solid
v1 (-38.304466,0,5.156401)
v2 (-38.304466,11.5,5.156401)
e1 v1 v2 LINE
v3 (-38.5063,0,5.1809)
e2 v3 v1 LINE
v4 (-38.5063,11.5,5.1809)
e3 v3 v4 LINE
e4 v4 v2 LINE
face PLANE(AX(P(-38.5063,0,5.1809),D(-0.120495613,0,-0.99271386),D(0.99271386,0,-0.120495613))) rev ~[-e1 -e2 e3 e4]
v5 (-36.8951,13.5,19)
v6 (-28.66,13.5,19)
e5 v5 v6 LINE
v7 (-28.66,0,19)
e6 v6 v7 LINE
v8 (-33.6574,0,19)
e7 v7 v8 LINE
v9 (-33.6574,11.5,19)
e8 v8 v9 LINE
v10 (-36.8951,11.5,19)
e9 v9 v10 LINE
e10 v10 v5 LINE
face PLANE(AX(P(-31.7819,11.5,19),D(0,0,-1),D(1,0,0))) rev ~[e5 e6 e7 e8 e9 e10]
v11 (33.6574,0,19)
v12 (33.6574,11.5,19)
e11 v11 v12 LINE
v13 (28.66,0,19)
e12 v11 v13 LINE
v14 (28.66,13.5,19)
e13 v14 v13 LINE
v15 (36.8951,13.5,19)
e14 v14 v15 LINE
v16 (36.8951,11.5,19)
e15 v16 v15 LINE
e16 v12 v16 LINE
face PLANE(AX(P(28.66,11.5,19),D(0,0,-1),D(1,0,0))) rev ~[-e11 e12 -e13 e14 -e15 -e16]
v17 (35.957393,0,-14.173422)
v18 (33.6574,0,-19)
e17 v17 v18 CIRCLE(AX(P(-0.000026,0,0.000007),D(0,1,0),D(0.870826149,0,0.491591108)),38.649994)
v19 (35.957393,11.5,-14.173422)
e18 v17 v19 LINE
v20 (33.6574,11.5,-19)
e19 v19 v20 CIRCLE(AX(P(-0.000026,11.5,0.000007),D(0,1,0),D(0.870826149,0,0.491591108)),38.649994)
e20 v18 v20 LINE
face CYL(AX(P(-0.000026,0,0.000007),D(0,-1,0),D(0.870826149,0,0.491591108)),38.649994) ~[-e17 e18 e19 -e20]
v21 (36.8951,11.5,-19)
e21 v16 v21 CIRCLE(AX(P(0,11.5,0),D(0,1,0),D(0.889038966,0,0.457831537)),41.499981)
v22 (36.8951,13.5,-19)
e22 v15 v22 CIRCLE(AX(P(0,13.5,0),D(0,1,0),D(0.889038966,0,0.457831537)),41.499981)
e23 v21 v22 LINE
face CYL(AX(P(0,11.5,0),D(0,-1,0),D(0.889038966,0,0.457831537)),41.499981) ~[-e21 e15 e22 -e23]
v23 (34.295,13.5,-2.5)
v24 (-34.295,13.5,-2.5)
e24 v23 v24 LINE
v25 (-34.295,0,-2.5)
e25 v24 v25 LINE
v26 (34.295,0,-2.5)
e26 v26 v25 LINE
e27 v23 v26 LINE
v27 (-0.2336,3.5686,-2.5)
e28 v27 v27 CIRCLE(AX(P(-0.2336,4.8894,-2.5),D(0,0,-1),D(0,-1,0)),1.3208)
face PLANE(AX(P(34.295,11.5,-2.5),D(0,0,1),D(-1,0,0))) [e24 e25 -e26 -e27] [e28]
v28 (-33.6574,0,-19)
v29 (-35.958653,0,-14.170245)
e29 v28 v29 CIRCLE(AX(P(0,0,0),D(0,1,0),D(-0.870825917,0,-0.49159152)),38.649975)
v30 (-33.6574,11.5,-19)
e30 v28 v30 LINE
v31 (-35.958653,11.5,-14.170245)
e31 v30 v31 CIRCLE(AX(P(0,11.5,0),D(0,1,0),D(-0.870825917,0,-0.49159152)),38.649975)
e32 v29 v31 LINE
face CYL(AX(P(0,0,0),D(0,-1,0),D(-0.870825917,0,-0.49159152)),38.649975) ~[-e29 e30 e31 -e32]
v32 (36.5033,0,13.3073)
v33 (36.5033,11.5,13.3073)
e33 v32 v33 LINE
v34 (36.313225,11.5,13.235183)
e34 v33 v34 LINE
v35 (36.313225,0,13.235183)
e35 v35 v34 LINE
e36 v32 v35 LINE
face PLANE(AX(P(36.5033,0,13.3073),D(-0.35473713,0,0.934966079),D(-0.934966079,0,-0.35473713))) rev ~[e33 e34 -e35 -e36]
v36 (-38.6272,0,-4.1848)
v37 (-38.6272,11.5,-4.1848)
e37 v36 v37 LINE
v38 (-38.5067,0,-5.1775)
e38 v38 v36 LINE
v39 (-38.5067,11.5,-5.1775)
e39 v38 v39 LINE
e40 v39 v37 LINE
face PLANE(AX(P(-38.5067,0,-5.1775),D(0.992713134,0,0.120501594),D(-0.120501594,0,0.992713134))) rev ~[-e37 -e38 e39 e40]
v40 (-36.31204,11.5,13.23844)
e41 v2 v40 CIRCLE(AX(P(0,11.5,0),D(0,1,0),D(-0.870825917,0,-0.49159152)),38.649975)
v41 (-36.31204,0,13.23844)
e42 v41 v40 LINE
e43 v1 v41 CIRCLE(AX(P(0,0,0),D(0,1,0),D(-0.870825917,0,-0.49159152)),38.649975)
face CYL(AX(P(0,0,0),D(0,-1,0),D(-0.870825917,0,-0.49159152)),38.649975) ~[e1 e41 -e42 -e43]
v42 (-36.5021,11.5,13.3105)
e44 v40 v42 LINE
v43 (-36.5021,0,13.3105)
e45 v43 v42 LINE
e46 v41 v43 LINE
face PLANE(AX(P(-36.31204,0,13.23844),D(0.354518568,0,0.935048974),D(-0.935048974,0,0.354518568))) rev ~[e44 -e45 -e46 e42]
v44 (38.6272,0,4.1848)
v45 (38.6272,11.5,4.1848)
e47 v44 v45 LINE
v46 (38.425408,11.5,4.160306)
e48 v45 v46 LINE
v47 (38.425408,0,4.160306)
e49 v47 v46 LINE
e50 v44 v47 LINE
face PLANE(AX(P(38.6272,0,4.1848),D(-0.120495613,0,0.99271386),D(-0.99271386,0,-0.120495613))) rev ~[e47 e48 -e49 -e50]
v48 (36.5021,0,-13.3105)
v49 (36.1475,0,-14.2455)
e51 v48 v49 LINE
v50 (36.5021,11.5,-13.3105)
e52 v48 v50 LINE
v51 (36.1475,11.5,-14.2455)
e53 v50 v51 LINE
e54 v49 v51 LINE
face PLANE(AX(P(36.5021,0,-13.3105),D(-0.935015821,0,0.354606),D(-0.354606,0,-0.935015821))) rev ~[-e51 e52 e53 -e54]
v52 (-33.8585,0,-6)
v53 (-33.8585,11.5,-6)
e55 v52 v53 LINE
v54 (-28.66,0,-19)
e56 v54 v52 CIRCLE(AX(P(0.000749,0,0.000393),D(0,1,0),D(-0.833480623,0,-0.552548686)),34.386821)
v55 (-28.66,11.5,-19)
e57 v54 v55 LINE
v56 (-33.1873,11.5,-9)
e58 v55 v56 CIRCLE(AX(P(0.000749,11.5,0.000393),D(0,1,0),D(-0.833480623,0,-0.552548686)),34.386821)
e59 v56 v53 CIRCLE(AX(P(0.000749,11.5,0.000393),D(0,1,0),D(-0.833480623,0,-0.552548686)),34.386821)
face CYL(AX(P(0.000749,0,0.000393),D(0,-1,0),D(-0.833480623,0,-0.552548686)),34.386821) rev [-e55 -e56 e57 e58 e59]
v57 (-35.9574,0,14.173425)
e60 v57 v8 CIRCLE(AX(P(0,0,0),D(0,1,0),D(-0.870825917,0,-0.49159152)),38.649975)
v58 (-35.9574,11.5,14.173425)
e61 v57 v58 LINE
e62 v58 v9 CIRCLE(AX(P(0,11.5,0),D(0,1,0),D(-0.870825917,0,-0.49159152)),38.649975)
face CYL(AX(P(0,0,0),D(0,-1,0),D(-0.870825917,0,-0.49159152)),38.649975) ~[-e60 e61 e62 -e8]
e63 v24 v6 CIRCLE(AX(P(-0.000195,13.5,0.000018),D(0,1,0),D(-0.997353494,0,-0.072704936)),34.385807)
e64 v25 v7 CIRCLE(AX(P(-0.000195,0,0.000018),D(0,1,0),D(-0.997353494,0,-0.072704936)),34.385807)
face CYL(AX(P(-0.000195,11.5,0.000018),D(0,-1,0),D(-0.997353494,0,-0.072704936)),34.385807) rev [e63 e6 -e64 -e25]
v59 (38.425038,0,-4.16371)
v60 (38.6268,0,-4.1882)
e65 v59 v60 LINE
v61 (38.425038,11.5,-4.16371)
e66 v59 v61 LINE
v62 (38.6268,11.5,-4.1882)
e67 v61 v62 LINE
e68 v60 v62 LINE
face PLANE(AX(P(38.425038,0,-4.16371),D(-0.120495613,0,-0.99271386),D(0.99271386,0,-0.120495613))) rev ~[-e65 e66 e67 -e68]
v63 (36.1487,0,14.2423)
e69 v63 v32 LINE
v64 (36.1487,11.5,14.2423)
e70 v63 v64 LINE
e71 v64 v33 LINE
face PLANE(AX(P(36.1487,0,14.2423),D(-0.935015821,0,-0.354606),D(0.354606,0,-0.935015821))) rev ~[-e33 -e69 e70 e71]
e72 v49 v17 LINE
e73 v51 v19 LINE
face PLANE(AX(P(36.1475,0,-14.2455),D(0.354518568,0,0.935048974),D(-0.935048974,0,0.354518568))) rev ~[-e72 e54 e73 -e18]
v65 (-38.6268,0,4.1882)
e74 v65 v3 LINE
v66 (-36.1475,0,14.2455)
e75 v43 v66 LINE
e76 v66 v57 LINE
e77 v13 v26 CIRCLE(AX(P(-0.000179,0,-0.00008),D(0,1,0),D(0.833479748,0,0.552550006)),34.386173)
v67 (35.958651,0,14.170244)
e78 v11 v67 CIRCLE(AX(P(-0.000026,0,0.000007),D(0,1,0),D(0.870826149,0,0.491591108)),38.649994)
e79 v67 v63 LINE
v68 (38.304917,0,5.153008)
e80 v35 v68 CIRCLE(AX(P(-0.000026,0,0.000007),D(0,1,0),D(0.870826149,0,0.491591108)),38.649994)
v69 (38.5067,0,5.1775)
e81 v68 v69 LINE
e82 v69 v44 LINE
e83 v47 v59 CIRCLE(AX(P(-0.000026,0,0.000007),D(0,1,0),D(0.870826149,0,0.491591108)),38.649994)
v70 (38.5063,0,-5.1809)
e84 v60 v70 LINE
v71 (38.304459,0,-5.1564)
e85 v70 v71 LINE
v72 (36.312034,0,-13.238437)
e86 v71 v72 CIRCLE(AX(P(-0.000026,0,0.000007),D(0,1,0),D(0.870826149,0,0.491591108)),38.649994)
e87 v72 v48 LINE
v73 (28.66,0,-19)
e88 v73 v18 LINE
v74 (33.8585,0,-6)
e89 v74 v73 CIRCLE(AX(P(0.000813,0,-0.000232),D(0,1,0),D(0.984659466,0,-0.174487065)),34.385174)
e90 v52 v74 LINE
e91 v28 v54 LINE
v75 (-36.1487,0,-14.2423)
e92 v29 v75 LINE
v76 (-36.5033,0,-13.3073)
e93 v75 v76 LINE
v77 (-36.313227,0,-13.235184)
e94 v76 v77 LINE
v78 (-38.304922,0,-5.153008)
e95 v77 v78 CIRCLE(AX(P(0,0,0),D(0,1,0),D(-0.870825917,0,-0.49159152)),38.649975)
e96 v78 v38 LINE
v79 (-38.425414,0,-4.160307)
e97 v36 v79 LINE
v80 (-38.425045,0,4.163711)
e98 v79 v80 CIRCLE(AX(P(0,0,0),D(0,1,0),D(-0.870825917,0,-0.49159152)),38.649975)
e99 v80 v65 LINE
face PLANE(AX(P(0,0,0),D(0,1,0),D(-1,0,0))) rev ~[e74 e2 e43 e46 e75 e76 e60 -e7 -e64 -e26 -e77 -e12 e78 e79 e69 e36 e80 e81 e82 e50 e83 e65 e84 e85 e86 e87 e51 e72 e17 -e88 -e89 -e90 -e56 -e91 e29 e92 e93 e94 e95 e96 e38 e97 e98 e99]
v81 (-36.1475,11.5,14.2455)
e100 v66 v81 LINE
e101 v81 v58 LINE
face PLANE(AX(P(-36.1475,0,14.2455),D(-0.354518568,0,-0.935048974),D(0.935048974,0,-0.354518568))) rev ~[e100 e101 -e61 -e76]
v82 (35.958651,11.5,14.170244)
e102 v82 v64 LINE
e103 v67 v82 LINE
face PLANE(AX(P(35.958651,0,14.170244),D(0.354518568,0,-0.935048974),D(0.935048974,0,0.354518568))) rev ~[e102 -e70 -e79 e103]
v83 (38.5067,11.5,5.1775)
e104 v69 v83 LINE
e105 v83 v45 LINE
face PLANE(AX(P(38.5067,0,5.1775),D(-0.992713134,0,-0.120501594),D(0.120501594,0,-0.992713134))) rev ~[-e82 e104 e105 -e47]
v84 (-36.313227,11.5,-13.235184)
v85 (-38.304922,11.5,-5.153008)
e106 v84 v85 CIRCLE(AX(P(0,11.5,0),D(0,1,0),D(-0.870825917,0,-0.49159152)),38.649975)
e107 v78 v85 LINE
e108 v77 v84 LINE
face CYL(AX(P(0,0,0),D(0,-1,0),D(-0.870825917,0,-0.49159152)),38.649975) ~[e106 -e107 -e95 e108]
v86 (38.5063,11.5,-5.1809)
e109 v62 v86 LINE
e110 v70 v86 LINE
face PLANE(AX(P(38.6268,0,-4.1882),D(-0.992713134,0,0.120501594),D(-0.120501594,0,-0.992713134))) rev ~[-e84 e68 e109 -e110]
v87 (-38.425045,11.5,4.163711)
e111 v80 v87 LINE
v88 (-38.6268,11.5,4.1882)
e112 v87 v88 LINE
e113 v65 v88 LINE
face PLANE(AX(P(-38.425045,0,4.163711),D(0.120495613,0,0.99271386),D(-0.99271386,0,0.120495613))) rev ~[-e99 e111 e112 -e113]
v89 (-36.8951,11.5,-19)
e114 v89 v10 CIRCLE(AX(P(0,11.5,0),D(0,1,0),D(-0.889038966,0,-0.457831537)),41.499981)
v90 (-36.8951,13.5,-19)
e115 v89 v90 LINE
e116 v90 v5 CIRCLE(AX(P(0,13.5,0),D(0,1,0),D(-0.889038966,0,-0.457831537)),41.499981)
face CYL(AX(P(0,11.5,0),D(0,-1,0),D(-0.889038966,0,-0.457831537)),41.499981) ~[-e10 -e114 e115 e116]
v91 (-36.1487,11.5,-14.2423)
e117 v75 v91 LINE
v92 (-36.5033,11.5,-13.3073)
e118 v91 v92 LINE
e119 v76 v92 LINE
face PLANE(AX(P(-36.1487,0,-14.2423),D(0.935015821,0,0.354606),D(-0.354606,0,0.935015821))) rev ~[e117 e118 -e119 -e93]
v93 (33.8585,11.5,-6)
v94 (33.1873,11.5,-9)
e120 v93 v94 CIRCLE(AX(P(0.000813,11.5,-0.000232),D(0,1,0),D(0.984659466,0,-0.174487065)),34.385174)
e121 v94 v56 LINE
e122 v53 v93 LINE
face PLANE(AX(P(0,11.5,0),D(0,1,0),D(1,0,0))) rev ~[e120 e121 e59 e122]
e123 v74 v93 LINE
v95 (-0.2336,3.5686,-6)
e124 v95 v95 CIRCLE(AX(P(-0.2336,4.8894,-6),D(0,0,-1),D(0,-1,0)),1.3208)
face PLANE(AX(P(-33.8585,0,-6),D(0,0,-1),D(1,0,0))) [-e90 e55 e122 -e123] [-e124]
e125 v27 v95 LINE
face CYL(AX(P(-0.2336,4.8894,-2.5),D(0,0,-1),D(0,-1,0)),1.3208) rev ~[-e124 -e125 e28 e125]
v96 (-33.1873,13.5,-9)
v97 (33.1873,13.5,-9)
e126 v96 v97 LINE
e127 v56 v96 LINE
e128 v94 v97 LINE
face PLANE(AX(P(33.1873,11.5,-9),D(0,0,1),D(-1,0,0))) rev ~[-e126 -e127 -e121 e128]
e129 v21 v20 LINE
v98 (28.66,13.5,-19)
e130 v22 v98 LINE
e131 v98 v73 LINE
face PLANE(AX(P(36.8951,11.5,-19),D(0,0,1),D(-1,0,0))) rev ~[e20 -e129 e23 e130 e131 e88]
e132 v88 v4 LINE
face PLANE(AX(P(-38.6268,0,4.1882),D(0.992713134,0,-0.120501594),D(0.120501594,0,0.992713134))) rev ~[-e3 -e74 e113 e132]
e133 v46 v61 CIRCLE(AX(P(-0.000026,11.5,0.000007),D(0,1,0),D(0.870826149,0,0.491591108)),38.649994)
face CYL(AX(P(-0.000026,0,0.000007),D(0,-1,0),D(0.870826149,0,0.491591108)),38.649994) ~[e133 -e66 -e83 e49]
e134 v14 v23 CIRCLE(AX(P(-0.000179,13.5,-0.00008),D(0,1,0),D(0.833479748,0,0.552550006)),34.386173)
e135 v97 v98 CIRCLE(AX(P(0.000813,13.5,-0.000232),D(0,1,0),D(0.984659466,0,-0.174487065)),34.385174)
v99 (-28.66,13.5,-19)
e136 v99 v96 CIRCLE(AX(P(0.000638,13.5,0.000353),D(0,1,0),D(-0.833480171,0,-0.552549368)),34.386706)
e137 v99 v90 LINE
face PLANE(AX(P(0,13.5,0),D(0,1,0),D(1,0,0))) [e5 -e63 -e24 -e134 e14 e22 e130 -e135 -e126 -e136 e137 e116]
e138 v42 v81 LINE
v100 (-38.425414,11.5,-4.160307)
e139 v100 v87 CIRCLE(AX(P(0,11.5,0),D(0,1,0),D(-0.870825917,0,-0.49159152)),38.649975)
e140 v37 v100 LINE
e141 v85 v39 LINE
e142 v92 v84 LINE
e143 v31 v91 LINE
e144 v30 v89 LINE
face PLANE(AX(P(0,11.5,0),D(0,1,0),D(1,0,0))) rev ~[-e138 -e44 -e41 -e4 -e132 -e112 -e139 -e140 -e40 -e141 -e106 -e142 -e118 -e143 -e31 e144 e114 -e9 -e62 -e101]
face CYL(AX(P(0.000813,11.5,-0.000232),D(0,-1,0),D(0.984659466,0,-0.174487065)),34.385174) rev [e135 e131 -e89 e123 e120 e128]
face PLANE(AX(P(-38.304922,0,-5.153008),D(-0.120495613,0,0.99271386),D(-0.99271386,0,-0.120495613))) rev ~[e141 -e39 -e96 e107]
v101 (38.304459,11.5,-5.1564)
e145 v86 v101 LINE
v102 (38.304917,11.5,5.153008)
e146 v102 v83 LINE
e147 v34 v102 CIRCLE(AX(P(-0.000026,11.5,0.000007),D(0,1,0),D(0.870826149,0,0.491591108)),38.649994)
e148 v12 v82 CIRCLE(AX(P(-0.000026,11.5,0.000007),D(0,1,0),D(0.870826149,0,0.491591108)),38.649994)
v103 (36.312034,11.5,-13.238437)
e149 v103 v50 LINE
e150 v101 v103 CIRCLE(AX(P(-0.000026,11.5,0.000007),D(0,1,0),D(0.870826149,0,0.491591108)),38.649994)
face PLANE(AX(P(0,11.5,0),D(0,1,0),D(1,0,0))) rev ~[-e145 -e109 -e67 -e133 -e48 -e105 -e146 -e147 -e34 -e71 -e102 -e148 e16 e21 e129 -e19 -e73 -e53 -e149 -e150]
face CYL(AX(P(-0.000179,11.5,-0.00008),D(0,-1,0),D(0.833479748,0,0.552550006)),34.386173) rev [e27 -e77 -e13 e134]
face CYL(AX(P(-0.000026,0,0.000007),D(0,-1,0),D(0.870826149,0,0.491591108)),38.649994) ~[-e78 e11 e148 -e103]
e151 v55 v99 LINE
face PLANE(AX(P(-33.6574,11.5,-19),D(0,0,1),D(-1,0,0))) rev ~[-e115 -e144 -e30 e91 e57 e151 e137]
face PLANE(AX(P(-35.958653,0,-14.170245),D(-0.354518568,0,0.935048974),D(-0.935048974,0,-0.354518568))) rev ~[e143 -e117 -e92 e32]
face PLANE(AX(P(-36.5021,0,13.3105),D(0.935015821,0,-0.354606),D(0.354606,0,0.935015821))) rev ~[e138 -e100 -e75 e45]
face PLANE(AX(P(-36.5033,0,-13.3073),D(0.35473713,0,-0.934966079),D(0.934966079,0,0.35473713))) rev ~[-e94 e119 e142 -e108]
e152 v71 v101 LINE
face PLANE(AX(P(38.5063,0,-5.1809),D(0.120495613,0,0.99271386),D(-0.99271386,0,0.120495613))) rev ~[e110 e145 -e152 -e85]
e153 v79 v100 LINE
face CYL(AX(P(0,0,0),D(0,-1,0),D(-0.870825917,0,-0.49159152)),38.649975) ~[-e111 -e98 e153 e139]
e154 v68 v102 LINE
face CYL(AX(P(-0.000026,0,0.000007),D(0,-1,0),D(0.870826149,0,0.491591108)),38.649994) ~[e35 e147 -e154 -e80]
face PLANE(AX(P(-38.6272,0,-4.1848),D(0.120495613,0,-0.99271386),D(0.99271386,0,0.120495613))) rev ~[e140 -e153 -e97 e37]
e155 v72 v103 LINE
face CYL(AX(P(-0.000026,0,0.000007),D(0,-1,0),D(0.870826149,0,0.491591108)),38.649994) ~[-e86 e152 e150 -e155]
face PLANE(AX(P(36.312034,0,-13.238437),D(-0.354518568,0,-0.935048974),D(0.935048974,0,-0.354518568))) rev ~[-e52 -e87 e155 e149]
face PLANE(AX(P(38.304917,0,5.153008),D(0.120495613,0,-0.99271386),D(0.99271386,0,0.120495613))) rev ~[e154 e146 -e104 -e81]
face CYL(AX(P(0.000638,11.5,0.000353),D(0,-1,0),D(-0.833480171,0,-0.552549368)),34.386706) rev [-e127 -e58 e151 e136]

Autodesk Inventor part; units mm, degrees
ref_plane "YZ Plane" through (0, 0, 0) normal (1, 0, 0) x (0, 1, 0)
ref_plane "XZ Plane" through (0, 0, 0) normal (0, 1, 0) x (-1, 0, 0)
ref_plane "XY Plane" through (0, 0, 0) normal (0, 0, 1) x (1, 0, 0)
sketch "Sketch1" plane through (0, 0, 0) normal (0, 1, 0) x (-1, 0, 0)
  line L0 (33.8585, -6) -> (-33.8585, -6)
  line L1 (-34.295, -2.5) -> (34.295, -2.5)
  line L2 (0.5017, -38.45) -> (-0.4983, -38.45)
  line L3 (-0.4983, -38.45) -> (-0.4983, -38.85)
  line L4 (-0.4983, -38.85) -> (0.5017, -38.85)
  line L5 (0.5017, -38.85) -> (0.5017, -38.45)
  line L6 (0.5017, -38.45) -> (-0.4983, -38.85) construction
  line L7 (-0.4983, -38.45) -> (0.5017, -38.85) construction
  line L8 (9.6888, -37.2126) -> (8.7179, -37.452)
  line L9 (8.7179, -37.452) -> (8.8136, -37.8403)
  line L10 (8.8136, -37.8403) -> (9.7846, -37.601)
  line L11 (9.7846, -37.601) -> (9.6888, -37.2126)
  line L12 (18.3129, -33.8126) -> (17.4274, -34.2773)
  line L13 (17.4274, -34.2773) -> (17.6133, -34.6315)
  line L14 (17.6133, -34.6315) -> (18.4987, -34.1668)
  line L15 (18.4987, -34.1668) -> (18.3129, -33.8126)
  line L16 (25.8726, -28.4475) -> (25.1241, -29.1107)
  line L17 (25.1241, -29.1107) -> (25.3893, -29.4101)
  line L18 (25.3893, -29.4101) -> (26.1379, -28.7469)
  line L19 (26.1379, -28.7469) -> (25.8726, -28.4475)
  line L20 (31.9287, -21.4292) -> (31.3607, -22.2522)
  line L21 (31.3607, -22.2522) -> (31.6899, -22.4794)
  line L22 (31.6899, -22.4794) -> (32.2579, -21.6564)
  line L23 (32.2579, -21.6564) -> (31.9287, -21.4292)
  line L24 (36.1293, -13.1654) -> (35.7747, -14.1005)
  line L25 (35.7747, -14.1005) -> (36.1487, -14.2423)
  line L26 (36.1487, -14.2423) -> (36.5033, -13.3073)
  line L27 (36.5033, -13.3073) -> (36.1293, -13.1654)
  line L28 (38.2301, -4.1366) -> (38.1096, -5.1293)
  line L29 (38.1096, -5.1293) -> (38.5067, -5.1775)
  line L30 (38.5067, -5.1775) -> (38.6272, -4.1848)
  line L31 (38.6272, -4.1848) -> (38.2301, -4.1366)
  line L32 (38.1092, 5.1327) -> (38.2297, 4.14)
  line L33 (38.2297, 4.14) -> (38.6268, 4.1882)
  line L34 (38.6268, 4.1882) -> (38.5063, 5.1809)
  line L35 (38.5063, 5.1809) -> (38.1092, 5.1327)
  line L36 (35.7735, 14.1037) -> (36.1281, 13.1687)
  line L37 (36.1281, 13.1687) -> (36.5021, 13.3105)
  line L38 (36.5021, 13.3105) -> (36.1475, 14.2455)
  line L39 (36.1475, 14.2455) -> (35.7735, 14.1037)
  line L40 (31.3587, 22.255) -> (31.9268, 21.432)
  line L41 (31.9268, 21.432) -> (32.256, 21.6592)
  line L42 (32.256, 21.6592) -> (31.6879, 22.4822)
  line L43 (31.6879, 22.4822) -> (31.3587, 22.255)
  line L44 (25.1215, 29.1129) -> (25.87, 28.4498)
  line L45 (25.87, 28.4498) -> (26.1353, 28.7492)
  line L46 (26.1353, 28.7492) -> (25.3868, 29.4123)
  line L47 (25.3868, 29.4123) -> (25.1215, 29.1129)
  line L48 (17.4244, 34.2789) -> (18.3098, 33.8142)
  line L49 (18.3098, 33.8142) -> (18.4957, 34.1684)
  line L50 (18.4957, 34.1684) -> (17.6102, 34.6331)
  line L51 (17.6102, 34.6331) -> (17.4244, 34.2789)
  line L52 (8.7145, 37.4528) -> (9.6855, 37.2135)
  line L53 (9.6855, 37.2135) -> (9.7812, 37.6018)
  line L54 (9.7812, 37.6018) -> (8.8103, 37.8412)
  line L55 (8.8103, 37.8412) -> (8.7145, 37.4528)
  line L56 (-0.5017, 38.45) -> (0.4983, 38.45)
  line L57 (0.4983, 38.45) -> (0.4983, 38.85)
  line L58 (0.4983, 38.85) -> (-0.5017, 38.85)
  line L59 (-0.5017, 38.85) -> (-0.5017, 38.45)
  line L60 (-9.6888, 37.2126) -> (-8.7179, 37.452)
  line L61 (-8.7179, 37.452) -> (-8.8136, 37.8403)
  line L62 (-8.8136, 37.8403) -> (-9.7846, 37.601)
  line L63 (-9.7846, 37.601) -> (-9.6888, 37.2126)
  line L64 (-18.3129, 33.8126) -> (-17.4274, 34.2773)
  line L65 (-17.4274, 34.2773) -> (-17.6133, 34.6315)
  line L66 (-17.6133, 34.6315) -> (-18.4987, 34.1668)
  line L67 (-18.4987, 34.1668) -> (-18.3129, 33.8126)
  line L68 (-25.8726, 28.4475) -> (-25.1241, 29.1107)
  line L69 (-25.1241, 29.1107) -> (-25.3893, 29.4101)
  line L70 (-25.3893, 29.4101) -> (-26.1379, 28.7469)
  line L71 (-26.1379, 28.7469) -> (-25.8726, 28.4475)
  line L72 (-31.9287, 21.4292) -> (-31.3607, 22.2522)
  line L73 (-31.3607, 22.2522) -> (-31.6899, 22.4794)
  line L74 (-31.6899, 22.4794) -> (-32.2579, 21.6564)
  line L75 (-32.2579, 21.6564) -> (-31.9287, 21.4292)
  line L76 (-36.1293, 13.1654) -> (-35.7747, 14.1005)
  line L77 (-35.7747, 14.1005) -> (-36.1487, 14.2423)
  line L78 (-36.1487, 14.2423) -> (-36.5033, 13.3073)
  line L79 (-36.5033, 13.3073) -> (-36.1293, 13.1654)
  line L80 (-38.2301, 4.1366) -> (-38.1096, 5.1293)
  line L81 (-38.1096, 5.1293) -> (-38.5067, 5.1775)
  line L82 (-38.5067, 5.1775) -> (-38.6272, 4.1848)
  line L83 (-38.6272, 4.1848) -> (-38.2301, 4.1366)
  line L84 (-38.1092, -5.1327) -> (-38.2297, -4.14)
  line L85 (-38.2297, -4.14) -> (-38.6268, -4.1882)
  line L86 (-38.6268, -4.1882) -> (-38.5063, -5.1809)
  line L87 (-38.5063, -5.1809) -> (-38.1092, -5.1327)
  line L88 (-35.7735, -14.1037) -> (-36.1281, -13.1687)
  line L89 (-36.1281, -13.1687) -> (-36.5021, -13.3105)
  line L90 (-36.5021, -13.3105) -> (-36.1475, -14.2455)
  line L91 (-36.1475, -14.2455) -> (-35.7735, -14.1037)
  line L92 (-31.3587, -22.255) -> (-31.9268, -21.432)
  line L93 (-31.9268, -21.432) -> (-32.256, -21.6592)
  line L94 (-32.256, -21.6592) -> (-31.6879, -22.4822)
  line L95 (-31.6879, -22.4822) -> (-31.3587, -22.255)
  line L96 (-25.1215, -29.1129) -> (-25.87, -28.4498)
  line L97 (-25.87, -28.4498) -> (-26.1353, -28.7492)
  line L98 (-26.1353, -28.7492) -> (-25.3868, -29.4123)
  line L99 (-25.3868, -29.4123) -> (-25.1215, -29.1129)
  line L100 (-17.4244, -34.2789) -> (-18.3098, -33.8142)
  line L101 (-18.3098, -33.8142) -> (-18.4957, -34.1684)
  line L102 (-18.4957, -34.1684) -> (-17.6102, -34.6331)
  line L103 (-17.6102, -34.6331) -> (-17.4244, -34.2789)
  line L104 (-8.7145, -37.4528) -> (-9.6855, -37.2135)
  line L105 (-9.6855, -37.2135) -> (-9.7812, -37.6018)
  line L106 (-9.7812, -37.6018) -> (-8.8103, -37.8412)
  line L107 (-8.8103, -37.8412) -> (-8.7145, -37.4528)
  arc A0 (-33.6574, 19) -> (32.0907, -21.5409) centre (0, 0) ccw
  arc A1 (33.6574, -19) -> (33.6574, 19) centre (0, 0) ccw
  arc A2 (32.0887, 21.5438) -> (-32.0907, 21.5409) centre (0, 0) ccw
  line L108 (36.1642, -3.8857) -> (36.1642, -3.8892)
  line L109 (36.1642, -4.8931) -> (36.1642, -4.8965)
  line L110 (-34.9312, -4.7468) -> (-34.9312, -4.7433)
  line L111 (-34.9312, -3.7395) -> (-34.9312, -3.736)
  line L112 (33.6574, -19) -> (28.66, -19)
  line L113 (-28.66, -19) -> (-33.6574, -19)
  line L114 (-33.6574, 19) -> (-28.66, 19)
  line L115 (28.66, 19) -> (33.6574, 19)
  arc A3 (28.66, -19) -> (33.8585, -6) centre (0, 0) ccw
  arc A4 (34.295, -2.5) -> (28.66, 19) centre (0, 0) ccw
  arc A5 (-28.66, 19) -> (-34.295, -2.5) centre (0, 0) ccw
  arc A6 (-33.8585, -6) -> (-28.66, -19) centre (0, 0) ccw
  point P0 (0.0017, -38.65)
  point P1 (35.9587, -14.1702)
  point P2 (36.3132, -13.2352)
  point P3 (38.3049, -5.153)
  point P4 (38.4254, -4.1603)
  point P5 (38.4251, 4.1637)
  point P6 (38.3045, 5.1564)
  point P7 (36.3121, 13.2384)
  point P8 (35.9574, 14.1734)
  point P9 (-35.9587, 14.1702)
  point P10 (-36.3132, 13.2352)
  point P11 (-38.3049, 5.153)
  point P12 (-38.4254, 4.1603)
  point P13 (-38.4251, -4.1637)
  point P14 (-38.3045, -5.1564)
  point P15 (-36.3121, -13.2384)
  point P16 (-35.9574, -14.1734)
  dimension "d2" = 2.5
  dimension "d3" = 3.5
  dimension "d10" = 1
  dimension "d11" = 0.4
  dimension "d14" = 360
  dimension "d18" = 38.65
  dimension "d19" = 4.9974
extrude "Extrusion1" add sketch "Sketch1" along normal blind 11.5 contours L0 A6 L113 A0 L91 L88 L89 L87 L84 L85 L83 L80 L81 L79 L76 L77 L114 A5 L1 A4 L115 A1 L39 L36 L37 L35 L32 L33 L31 L28 L29 L27 L24 L25 L112 A3 | A1 L27 L26 L25 | L25 L24 L27 A1 | A0 L89 L88 L91 | L91 L90 L89 A0 | A1 L31 L30 L29 | L29 L28 L31 A1 | A0 L85 L84 L87 | L87 L86 L85 A0 | A1 L35 L34 L33 | L33 L32 L35 A1 | A0 L81 L80 L83 | L83 L82 L81 A0 | A1 L39 L38 L37 | L37 L36 L39 A1 | A0 L77 L76 L79 | L79 L78 L77 A0
sketch "Sketch2" plane through (0, 11.5, 0) normal (0, 1, 0) x (1, 0, 0)
  arc A0 (33.8585, 6) -> (28.66, 19) centre (0, 0) ccw projected
  line L0 (34.295, 2.5) -> (-34.295, 2.5)
  line L1 (-3.804, 9) -> (7.0469, 9)
  line L2 (33.1873, 9) -> (-33.1873, 9)
  line L3 (-28.66, 19) -> (-33.6574, 19) projected
  line L4 (-33.6574, -19) -> (-28.66, -19) projected
  line L5 (-28.66, -19) -> (-36.8951, -19)
  arc A1 (-34.295, 2.5) -> (-28.66, -19) centre (0, 0) ccw
  arc A2 (28.66, -19) -> (34.295, 2.5) centre (0, 0) ccw
  arc A3 (36.8951, -19) -> (36.8951, 19) centre (0, 0) ccw
  arc A4 (-36.8951, 19) -> (-36.8951, -19) centre (0, 0) ccw
  arc A5 (33.1873, 9) -> (28.66, 19) centre (0, 0) ccw
  arc A6 (-28.66, 19) -> (-33.1873, 9) centre (0, 0) ccw
  line L6 (36.8951, 19) -> (28.66, 19)
  line L7 (-28.66, 19) -> (-36.8951, 19)
  line L8 (-31.7819, -19) -> (-28.66, -19)
  line L9 (28.66, -19) -> (36.8951, -19)
  line L10 (-30.5962, 19) -> (-28.66, 19)
  line L11 (28.66, 19) -> (36.8951, 19)
  point P0 (28.66, 19)
  point P1 (7.0469, 9)
  dimension "d24" = 41.5
  dimension "d25" = 6.5
extrude "Extrusion2" add sketch "Sketch2" along normal blind 2
sketch "Sketch3" plane through (-34.295, 0, -2.5) normal (0, 0, 1) x (1, 0, 0)
  line L0 (0, 13.5) -> (68.59, 13.5) projected
  line L1 (0, 0) -> (0, 13.5) projected
  point P0 (34.295, 0)
  point P1 (34.0614, 4.8894)
  dimension "d28" = 8.6106
  dimension "d29" = 34.0614
hole "Hole1" at (-0.2336, 4.8894, -2.5) direction (0, 0, -1) diameter 2.6416 depth 10.979 thread size "6-32 UNC" class "2B" standard "ANSI Unified Screw Threads"
properties part number "AQS_Mount_3DPrint"
